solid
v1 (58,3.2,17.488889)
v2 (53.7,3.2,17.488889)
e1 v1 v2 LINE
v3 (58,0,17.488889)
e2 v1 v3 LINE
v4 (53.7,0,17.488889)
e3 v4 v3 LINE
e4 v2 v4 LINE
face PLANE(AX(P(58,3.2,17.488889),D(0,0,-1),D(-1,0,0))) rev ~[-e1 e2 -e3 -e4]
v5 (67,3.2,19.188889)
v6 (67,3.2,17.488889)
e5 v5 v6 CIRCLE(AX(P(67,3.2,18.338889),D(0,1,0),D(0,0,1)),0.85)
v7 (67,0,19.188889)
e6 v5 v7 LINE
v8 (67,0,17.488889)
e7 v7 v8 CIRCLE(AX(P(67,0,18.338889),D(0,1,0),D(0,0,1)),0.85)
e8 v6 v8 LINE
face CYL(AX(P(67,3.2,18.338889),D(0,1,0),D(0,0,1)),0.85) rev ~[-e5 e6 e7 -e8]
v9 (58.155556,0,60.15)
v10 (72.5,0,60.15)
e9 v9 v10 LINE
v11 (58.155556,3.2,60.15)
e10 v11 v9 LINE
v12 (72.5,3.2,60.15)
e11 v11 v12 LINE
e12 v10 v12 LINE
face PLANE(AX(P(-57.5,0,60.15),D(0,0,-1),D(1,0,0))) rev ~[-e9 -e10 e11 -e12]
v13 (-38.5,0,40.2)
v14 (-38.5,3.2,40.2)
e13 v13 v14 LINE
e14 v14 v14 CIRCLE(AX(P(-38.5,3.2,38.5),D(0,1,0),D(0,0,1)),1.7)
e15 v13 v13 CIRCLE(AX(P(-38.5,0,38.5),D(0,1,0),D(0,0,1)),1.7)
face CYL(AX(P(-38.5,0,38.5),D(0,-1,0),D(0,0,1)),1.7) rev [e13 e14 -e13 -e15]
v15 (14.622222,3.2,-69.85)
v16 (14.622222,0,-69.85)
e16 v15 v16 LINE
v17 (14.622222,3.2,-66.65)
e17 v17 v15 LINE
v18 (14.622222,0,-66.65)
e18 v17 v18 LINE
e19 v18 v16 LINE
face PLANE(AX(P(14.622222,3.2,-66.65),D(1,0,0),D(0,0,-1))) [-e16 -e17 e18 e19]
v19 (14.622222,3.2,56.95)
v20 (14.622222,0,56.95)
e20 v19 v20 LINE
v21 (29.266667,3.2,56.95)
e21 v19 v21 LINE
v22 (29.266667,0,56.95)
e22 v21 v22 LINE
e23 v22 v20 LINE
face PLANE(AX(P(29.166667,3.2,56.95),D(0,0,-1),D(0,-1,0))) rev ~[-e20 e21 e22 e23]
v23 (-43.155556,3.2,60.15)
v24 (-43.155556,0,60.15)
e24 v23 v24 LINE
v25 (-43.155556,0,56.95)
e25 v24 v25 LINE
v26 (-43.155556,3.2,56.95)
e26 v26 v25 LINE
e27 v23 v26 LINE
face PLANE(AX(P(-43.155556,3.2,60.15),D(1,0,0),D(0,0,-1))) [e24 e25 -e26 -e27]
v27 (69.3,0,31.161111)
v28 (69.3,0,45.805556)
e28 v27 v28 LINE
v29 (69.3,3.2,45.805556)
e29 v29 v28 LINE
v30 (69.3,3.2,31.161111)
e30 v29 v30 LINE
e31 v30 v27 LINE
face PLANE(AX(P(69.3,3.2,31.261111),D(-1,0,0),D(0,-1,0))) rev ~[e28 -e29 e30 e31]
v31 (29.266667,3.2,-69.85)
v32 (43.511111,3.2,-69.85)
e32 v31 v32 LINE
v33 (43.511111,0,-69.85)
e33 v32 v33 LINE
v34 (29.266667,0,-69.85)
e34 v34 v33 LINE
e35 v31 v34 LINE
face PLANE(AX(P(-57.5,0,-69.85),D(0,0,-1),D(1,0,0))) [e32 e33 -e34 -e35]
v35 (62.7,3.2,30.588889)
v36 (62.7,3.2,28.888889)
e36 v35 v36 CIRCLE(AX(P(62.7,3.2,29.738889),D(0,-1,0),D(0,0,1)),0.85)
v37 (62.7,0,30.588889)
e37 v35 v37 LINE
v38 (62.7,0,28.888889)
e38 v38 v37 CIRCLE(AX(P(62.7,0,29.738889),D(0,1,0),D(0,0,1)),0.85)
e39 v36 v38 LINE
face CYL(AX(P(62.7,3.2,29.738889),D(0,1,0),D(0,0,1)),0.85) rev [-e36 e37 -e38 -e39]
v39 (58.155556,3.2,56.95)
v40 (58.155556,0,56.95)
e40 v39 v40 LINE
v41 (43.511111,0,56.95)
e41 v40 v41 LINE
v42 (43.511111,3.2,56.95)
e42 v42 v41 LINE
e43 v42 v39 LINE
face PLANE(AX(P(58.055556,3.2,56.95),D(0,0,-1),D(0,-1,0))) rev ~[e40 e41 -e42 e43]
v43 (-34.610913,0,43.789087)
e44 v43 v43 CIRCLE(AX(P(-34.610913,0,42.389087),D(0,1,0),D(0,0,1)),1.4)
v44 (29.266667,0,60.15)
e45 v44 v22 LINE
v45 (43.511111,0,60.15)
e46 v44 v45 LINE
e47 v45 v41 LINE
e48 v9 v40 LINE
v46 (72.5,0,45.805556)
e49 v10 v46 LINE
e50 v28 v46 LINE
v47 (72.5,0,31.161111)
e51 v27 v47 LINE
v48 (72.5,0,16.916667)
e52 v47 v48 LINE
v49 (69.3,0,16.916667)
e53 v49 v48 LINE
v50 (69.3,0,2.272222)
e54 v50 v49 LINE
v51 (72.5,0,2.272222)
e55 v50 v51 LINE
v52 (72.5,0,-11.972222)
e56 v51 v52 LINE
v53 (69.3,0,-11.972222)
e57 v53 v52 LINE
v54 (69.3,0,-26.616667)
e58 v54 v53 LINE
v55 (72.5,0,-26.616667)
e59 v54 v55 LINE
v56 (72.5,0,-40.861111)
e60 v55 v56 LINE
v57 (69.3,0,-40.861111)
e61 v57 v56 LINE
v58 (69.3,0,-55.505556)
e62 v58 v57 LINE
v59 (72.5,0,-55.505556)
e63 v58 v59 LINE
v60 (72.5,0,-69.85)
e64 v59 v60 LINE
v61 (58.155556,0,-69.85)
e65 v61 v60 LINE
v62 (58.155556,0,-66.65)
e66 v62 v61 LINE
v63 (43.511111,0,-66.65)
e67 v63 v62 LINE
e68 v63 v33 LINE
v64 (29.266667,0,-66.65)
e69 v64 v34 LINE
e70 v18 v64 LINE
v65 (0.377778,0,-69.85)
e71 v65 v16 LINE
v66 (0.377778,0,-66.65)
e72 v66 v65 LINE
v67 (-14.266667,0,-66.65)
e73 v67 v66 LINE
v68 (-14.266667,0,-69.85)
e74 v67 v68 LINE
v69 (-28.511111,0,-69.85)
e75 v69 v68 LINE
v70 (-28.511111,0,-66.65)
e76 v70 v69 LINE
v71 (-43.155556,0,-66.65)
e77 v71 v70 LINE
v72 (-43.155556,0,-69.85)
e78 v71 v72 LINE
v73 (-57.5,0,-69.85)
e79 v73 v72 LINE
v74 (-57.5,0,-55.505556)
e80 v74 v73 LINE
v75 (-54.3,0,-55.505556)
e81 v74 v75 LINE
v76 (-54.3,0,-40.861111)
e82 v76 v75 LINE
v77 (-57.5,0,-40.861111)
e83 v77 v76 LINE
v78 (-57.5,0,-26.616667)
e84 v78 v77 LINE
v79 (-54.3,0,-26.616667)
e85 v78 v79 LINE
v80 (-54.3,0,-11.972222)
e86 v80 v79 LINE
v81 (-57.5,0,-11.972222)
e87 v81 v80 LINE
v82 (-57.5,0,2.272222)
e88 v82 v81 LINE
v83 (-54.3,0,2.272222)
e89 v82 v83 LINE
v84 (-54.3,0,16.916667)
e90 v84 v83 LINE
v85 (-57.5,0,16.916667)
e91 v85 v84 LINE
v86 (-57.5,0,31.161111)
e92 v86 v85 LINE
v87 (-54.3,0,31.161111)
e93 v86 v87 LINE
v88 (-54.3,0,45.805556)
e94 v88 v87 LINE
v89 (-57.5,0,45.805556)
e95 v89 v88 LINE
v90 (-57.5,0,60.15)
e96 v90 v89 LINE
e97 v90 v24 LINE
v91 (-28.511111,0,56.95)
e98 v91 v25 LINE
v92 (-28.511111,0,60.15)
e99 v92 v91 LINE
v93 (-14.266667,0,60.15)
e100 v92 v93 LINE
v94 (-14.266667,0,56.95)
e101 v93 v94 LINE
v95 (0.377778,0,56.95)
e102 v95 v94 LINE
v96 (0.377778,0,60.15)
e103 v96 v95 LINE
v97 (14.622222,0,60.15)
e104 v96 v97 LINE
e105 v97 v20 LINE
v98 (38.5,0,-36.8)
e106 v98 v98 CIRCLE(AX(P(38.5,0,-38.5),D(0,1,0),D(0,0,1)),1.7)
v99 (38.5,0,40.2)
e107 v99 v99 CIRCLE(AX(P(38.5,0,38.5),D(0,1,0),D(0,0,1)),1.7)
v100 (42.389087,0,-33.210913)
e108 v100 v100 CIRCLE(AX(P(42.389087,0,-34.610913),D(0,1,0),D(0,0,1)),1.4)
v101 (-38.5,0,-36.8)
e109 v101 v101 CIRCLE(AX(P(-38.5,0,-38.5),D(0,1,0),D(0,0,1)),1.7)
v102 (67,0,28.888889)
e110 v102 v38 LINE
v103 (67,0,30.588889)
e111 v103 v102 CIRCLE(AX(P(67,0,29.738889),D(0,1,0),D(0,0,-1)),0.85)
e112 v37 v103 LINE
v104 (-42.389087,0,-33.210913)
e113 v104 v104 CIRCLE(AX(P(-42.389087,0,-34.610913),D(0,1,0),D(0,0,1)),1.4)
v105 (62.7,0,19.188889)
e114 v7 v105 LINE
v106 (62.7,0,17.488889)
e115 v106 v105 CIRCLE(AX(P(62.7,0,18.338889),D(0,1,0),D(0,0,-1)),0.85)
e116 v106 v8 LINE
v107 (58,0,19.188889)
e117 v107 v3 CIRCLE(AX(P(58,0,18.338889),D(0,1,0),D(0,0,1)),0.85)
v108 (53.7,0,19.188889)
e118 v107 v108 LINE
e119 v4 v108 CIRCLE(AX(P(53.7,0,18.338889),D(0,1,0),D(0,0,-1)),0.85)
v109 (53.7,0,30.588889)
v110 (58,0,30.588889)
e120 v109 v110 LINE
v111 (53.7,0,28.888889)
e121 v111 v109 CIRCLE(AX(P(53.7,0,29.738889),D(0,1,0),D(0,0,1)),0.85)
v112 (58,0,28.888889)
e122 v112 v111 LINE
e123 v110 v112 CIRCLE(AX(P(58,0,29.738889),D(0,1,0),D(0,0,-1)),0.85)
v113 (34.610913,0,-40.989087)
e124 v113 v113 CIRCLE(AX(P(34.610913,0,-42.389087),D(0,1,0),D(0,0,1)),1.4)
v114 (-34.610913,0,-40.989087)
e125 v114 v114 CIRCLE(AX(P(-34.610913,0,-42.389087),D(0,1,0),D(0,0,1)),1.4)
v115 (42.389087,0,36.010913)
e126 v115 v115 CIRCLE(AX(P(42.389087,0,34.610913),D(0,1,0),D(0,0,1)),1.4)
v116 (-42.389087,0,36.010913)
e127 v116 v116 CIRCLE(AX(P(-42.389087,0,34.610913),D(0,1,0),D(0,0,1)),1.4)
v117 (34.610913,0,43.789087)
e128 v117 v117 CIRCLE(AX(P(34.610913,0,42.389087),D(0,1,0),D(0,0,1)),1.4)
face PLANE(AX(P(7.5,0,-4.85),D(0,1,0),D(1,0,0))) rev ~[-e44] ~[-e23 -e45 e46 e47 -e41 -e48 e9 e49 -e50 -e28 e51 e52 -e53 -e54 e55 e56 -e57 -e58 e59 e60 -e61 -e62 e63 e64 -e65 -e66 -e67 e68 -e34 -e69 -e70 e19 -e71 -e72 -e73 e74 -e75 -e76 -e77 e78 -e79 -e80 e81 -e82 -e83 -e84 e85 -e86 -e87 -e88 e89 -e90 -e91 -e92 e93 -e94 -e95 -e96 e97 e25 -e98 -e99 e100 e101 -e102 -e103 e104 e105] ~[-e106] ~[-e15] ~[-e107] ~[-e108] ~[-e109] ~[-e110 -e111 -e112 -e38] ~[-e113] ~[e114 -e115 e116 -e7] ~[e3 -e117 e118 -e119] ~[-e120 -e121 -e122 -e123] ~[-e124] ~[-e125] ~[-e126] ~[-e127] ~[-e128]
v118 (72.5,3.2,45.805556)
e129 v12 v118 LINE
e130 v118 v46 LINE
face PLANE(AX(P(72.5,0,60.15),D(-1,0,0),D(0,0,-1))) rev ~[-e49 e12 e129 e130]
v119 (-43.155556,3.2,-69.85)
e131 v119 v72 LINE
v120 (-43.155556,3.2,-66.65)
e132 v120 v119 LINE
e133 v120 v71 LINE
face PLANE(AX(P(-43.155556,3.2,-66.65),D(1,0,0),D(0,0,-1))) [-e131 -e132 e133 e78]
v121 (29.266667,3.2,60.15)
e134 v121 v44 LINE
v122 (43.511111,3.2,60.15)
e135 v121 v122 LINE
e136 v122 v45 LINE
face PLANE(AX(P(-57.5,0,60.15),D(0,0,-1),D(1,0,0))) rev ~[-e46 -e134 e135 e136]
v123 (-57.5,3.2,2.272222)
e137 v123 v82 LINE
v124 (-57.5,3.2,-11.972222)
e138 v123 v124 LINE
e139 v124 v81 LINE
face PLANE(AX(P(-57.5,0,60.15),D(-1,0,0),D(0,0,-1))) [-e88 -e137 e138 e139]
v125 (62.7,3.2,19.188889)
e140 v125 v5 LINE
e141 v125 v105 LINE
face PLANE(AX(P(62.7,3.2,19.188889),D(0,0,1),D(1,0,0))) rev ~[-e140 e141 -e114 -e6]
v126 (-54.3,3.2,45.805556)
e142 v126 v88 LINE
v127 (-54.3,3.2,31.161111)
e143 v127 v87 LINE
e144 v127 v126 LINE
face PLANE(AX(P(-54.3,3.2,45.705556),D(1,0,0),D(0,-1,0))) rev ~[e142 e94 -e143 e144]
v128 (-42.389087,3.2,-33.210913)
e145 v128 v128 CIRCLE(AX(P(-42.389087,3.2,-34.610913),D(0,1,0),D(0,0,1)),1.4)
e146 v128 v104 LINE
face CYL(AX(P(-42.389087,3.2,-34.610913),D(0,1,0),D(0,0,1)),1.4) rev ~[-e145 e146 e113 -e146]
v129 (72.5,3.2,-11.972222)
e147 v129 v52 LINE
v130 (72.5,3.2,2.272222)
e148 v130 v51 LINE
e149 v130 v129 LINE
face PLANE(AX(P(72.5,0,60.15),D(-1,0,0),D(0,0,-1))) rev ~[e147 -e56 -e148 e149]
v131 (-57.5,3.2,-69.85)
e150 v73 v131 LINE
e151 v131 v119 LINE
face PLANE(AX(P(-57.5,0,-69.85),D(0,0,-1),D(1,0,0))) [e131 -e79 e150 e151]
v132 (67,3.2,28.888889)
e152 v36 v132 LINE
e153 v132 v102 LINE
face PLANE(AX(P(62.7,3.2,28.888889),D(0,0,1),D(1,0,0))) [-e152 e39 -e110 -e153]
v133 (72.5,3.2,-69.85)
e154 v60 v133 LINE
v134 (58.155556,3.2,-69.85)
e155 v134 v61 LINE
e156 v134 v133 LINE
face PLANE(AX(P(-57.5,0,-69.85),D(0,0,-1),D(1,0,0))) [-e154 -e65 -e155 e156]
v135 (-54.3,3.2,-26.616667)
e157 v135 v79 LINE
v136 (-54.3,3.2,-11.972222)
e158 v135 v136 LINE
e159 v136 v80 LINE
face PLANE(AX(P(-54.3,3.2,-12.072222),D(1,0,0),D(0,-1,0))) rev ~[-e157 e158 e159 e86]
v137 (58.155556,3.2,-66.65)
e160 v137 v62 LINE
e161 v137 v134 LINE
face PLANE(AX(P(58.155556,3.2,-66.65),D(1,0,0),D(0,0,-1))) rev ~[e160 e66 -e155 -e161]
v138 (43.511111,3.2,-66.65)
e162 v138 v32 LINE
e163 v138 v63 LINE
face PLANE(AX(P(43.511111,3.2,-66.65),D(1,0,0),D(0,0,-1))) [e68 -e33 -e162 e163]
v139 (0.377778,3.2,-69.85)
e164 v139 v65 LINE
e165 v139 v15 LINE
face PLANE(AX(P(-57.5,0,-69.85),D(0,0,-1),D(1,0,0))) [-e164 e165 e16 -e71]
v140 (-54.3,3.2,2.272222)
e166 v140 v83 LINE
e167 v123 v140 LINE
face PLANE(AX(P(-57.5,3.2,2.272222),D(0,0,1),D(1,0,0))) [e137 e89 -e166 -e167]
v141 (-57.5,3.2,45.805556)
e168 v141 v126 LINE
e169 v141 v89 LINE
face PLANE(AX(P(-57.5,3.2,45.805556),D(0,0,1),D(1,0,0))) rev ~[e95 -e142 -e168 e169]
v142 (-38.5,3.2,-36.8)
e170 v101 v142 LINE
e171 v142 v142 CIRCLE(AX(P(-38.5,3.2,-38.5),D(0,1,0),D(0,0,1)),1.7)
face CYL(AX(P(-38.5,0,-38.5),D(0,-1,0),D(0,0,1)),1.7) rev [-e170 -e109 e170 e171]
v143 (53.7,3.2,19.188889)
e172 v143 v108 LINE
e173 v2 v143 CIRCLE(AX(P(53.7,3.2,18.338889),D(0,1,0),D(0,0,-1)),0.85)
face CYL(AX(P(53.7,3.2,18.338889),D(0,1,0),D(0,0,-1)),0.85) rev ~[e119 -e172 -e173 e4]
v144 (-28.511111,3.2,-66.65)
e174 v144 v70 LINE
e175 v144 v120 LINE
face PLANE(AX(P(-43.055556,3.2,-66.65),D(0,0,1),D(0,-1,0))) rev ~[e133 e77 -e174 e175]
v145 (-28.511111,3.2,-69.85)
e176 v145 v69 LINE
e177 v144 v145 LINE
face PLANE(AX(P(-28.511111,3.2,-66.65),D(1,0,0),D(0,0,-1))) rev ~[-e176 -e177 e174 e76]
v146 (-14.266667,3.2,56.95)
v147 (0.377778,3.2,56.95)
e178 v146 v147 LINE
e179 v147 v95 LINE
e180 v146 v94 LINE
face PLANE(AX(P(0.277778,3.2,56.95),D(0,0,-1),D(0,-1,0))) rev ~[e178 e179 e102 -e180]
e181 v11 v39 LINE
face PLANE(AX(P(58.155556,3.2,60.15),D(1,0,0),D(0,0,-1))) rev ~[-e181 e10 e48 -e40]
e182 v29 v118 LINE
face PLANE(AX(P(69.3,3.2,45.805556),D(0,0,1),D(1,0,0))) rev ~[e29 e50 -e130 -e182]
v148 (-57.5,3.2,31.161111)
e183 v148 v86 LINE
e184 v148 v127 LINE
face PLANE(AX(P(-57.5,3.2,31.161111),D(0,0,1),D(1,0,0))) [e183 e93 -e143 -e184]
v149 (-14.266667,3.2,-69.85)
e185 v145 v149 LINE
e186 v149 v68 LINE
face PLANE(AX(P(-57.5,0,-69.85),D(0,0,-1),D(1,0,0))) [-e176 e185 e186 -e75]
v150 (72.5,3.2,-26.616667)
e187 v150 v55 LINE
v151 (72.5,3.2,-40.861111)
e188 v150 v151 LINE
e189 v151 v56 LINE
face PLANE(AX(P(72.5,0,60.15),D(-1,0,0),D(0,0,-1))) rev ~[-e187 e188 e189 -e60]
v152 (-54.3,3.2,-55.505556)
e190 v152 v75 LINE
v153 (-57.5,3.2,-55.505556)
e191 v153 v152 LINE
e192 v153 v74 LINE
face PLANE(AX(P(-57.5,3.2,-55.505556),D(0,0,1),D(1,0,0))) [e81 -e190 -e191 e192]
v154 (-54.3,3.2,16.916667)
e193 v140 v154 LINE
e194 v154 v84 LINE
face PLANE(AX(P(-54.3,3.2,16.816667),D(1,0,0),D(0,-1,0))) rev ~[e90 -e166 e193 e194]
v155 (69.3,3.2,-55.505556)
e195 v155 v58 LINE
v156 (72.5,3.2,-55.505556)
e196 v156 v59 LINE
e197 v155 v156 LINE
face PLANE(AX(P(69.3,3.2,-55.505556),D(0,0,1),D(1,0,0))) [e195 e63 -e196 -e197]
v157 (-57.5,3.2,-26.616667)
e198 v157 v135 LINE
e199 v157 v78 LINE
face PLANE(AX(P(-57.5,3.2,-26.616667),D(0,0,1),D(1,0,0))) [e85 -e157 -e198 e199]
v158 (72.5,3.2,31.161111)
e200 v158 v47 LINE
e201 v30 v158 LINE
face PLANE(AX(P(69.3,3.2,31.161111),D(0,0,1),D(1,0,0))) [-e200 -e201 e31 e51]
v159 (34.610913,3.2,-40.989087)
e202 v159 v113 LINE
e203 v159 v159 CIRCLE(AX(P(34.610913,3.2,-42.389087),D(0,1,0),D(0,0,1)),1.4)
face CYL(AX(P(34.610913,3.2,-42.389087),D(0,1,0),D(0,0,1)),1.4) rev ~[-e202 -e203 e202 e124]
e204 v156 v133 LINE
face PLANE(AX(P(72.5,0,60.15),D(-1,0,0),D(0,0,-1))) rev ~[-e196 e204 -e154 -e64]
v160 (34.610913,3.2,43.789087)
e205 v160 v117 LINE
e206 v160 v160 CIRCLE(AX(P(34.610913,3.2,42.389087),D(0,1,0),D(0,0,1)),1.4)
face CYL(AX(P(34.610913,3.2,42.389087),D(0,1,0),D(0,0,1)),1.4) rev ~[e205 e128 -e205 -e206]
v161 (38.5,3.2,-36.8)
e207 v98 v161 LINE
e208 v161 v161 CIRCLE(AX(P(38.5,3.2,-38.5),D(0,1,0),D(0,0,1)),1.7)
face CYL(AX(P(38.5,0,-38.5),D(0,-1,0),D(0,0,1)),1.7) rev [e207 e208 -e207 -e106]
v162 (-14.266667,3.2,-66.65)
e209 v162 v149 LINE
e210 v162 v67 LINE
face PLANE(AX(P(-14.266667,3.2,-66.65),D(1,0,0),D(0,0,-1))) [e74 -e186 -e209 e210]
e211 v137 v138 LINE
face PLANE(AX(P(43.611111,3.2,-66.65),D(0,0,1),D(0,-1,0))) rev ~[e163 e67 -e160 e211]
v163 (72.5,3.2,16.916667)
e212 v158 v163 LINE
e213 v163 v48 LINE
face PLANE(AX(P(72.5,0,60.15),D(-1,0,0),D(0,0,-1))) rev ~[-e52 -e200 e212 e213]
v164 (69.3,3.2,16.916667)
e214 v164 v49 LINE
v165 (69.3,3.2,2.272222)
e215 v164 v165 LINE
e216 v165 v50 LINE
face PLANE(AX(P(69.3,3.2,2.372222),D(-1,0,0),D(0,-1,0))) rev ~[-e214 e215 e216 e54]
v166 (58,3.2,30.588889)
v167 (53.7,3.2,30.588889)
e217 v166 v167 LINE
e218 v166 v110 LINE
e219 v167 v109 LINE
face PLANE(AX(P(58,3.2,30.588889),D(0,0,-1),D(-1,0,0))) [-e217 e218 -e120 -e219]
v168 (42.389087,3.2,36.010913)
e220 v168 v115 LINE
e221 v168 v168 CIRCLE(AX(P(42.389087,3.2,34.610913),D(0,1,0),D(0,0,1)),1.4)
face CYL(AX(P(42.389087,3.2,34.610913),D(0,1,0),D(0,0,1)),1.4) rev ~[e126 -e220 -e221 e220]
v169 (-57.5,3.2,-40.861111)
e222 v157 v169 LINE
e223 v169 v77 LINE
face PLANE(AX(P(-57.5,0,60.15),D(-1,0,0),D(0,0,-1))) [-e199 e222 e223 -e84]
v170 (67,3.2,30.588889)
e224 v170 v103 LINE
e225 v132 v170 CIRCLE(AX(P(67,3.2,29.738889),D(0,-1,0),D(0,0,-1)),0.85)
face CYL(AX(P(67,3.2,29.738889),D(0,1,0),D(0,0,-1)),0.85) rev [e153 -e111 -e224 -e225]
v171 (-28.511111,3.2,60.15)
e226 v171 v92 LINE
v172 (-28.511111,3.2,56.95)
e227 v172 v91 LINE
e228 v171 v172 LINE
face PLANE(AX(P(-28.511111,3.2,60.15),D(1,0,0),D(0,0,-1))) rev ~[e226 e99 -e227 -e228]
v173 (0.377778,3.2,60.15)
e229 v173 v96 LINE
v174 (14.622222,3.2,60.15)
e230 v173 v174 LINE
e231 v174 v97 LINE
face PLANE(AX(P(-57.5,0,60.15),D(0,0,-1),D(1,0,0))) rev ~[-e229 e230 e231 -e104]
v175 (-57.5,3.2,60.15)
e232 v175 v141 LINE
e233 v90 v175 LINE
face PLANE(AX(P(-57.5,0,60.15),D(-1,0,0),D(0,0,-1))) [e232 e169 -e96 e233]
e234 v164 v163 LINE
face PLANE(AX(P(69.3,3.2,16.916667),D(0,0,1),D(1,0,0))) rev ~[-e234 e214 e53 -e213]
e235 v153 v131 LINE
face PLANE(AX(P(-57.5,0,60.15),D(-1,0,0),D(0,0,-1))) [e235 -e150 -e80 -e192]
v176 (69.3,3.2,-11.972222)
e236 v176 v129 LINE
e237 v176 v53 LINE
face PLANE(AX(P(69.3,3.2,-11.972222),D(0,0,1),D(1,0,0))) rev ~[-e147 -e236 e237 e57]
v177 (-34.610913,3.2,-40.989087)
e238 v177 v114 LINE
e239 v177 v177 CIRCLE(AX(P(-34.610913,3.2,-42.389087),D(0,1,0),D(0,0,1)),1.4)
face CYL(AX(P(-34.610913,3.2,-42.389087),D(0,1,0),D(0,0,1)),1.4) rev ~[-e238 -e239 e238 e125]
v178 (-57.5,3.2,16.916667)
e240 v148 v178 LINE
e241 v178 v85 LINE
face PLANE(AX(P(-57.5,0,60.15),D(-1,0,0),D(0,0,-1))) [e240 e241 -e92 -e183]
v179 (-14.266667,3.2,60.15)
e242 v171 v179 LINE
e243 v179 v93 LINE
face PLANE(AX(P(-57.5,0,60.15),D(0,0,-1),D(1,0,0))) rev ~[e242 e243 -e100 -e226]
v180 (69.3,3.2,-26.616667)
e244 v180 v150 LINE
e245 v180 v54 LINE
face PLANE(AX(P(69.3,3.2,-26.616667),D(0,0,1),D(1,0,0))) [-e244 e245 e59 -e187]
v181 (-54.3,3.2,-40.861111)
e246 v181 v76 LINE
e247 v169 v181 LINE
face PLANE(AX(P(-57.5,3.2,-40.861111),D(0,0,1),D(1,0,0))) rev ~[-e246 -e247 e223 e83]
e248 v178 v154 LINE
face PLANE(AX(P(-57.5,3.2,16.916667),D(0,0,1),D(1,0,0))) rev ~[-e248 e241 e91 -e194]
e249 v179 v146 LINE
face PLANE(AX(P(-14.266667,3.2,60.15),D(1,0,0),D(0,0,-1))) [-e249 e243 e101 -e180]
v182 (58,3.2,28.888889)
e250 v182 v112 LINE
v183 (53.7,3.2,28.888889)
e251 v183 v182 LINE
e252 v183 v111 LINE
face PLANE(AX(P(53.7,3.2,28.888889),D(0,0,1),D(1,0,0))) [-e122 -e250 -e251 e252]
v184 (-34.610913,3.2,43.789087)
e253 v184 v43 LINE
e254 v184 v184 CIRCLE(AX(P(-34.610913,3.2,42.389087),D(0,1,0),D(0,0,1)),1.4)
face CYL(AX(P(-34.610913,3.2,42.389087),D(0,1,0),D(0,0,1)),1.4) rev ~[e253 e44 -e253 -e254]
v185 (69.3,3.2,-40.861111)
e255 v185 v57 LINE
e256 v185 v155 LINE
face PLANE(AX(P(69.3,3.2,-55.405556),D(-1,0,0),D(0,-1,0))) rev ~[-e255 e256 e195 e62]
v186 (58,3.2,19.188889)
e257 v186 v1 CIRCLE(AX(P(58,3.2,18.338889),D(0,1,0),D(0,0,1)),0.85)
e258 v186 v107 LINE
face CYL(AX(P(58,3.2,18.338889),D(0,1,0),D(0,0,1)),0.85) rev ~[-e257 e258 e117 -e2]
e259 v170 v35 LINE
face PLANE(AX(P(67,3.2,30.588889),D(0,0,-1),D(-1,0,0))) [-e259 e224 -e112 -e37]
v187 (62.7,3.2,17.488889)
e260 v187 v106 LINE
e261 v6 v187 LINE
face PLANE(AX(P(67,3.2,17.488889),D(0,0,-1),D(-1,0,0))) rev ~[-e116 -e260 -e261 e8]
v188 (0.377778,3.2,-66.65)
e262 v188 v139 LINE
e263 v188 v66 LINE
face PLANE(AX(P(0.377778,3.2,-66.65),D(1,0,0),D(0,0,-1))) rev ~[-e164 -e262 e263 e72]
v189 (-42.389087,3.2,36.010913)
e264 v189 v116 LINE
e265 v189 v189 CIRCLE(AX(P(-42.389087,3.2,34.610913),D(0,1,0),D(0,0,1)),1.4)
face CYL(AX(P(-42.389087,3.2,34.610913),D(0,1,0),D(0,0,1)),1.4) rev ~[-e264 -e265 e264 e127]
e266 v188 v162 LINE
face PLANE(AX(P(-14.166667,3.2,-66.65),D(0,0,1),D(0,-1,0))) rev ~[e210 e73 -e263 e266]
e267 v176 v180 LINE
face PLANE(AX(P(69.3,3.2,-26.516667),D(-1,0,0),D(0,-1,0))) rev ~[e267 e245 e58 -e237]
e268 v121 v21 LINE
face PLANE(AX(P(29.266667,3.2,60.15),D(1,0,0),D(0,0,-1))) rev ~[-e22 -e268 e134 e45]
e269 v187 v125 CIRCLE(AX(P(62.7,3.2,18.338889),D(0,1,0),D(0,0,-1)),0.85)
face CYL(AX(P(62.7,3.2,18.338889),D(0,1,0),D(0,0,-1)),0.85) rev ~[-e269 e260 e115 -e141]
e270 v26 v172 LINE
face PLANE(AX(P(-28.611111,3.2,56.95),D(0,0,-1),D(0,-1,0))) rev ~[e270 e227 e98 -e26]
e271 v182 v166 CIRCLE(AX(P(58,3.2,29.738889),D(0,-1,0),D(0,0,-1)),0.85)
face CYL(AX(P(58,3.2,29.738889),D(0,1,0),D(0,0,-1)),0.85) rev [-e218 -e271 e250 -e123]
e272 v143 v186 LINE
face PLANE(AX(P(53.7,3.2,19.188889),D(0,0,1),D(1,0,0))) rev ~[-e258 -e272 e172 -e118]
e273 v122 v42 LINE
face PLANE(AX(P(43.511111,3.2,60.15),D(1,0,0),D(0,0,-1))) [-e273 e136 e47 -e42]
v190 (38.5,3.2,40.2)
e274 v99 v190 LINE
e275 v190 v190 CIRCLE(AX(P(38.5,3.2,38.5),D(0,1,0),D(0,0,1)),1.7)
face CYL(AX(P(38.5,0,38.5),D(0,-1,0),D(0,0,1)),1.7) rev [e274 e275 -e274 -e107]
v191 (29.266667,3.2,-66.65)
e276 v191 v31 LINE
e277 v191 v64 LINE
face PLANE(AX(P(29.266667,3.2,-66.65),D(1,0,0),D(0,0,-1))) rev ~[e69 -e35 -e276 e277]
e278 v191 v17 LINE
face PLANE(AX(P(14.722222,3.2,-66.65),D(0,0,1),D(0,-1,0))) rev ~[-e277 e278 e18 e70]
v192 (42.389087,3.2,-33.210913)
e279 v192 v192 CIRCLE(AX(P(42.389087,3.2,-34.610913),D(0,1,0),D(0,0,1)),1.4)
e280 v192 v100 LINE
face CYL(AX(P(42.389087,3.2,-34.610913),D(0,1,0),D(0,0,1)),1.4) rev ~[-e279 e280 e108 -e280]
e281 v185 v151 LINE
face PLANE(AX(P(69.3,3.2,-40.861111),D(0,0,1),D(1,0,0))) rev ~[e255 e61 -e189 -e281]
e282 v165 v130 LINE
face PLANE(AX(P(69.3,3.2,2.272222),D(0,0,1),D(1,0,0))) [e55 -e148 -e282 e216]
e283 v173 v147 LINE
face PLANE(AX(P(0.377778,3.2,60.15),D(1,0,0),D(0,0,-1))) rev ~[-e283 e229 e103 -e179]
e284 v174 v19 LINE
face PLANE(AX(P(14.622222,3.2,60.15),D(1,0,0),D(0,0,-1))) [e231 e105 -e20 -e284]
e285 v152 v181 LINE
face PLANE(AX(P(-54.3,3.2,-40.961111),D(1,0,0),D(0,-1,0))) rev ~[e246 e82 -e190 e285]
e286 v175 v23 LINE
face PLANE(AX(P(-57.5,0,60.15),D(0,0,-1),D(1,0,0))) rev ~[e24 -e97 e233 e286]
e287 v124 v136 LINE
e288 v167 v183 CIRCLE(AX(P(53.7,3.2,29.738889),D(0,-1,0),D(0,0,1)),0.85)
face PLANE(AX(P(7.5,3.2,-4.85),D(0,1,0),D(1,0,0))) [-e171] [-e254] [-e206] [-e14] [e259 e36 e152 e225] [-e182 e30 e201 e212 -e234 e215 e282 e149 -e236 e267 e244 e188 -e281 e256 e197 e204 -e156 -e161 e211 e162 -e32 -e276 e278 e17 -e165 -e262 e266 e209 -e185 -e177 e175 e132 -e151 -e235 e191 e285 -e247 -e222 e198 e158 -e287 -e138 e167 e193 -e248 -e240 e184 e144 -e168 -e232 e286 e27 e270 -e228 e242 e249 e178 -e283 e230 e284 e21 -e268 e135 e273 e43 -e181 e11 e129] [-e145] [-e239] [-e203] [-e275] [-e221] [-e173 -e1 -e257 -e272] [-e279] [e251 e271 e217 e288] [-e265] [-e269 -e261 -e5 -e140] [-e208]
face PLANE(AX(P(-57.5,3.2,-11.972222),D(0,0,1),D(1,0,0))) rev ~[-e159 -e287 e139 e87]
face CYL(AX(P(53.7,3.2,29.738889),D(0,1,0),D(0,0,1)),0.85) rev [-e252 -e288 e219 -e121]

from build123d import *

# Parameters (mm, degrees)
SKETCH2_W           = 130
SKETCH2_H           = 130
SKETCH2_R           = 1.7
BOSS_EXTRUDE1_DEPTH = 3.2
CUT_EXTRUDE2_REACH  = 102.725
SKETCH5_R           = 1.4
SKETCH4_W           = 3.2
SKETCH4_H           = 14.444444445
SKETCH4_W_2         = 14.444444445
SKETCH4_H_2         = 3.2
CUT_EXTRUDE1_DEPTH  = 101.724934847
CUT_EXTRUDE3_REACH  = 102.725
TOLERANCE_BY        = 0.1
TOLERANCE_2_BY      = 0.1
TOLERANCE_3_BY      = 0.1
TOLERANCE_4_BY      = 0.1
TOLERANCE_5_BY      = 0.1
TOLERANCE_6_BY      = 0.1
TOLERANCE_7_BY      = 0.1
TOLERANCE_8_BY      = 0.1
TOLERANCE_9_BY      = 0.1
TOLERANCE_10_BY     = 0.1
TOLERANCE_11_BY     = 0.1
TOLERANCE_12_BY     = 0.1
TOLERANCE_13_BY     = 0.1
TOLERANCE_14_BY     = 0.1
TOLERANCE_15_BY     = 0.1
TOLERANCE_16_BY     = 0.1
TOLERANCE_17_BY     = 0.1
TOLERANCE_18_BY     = 0.1
TOLERANCE_19_BY     = 0.1
TOLERANCE_20_BY     = 0.1
TOLERANCE_21_BY     = 0.1
TOLERANCE_22_BY     = 0.1
TOLERANCE_23_BY     = 0.1
TOLERANCE_24_BY     = 0.1
TOLERANCE_25_BY     = 0.1
TOLERANCE_26_BY     = 0.1
TOLERANCE_27_BY     = 0.1
TOLERANCE_28_BY     = 0.1
TOLERANCE_29_BY     = 0.1
TOLERANCE_30_BY     = 0.1
TOLERANCE_31_BY     = 0.1
TOLERANCE_32_BY     = 0.1


with BuildPart() as part:
    # Sketch2 → Boss-Extrude1 (new body)
    with BuildSketch(Plane(origin=(0, 0, 0), x_dir=(1, 0, 0), z_dir=(0, 1, 0))):
        with Locations((7.5, 4.85)):
            Rectangle(SKETCH2_W, SKETCH2_H)
        with Locations(Location((-38.5, 38.5, 0), (0, 0, 270))):
            Circle(SKETCH2_R, mode=Mode.SUBTRACT)
        with Locations(Location((-38.5, -38.5, 0), (0, 0, 270))):
            Circle(SKETCH2_R, mode=Mode.SUBTRACT)
        with Locations(Location((38.5, -38.5, 0), (0, 0, 270))):
            Circle(SKETCH2_R, mode=Mode.SUBTRACT)
        with Locations(Location((38.5, 38.5, 0), (0, 0, 270))):
            Circle(SKETCH2_R, mode=Mode.SUBTRACT)
    extrude(amount=BOSS_EXTRUDE1_DEPTH)

    # Sketch5 → Cut-Extrude2 (cut, up to next)
    with BuildSketch(Plane(origin=(0, 3.2, 0), x_dir=(1, 0, 0), z_dir=(0, 1, 0)), mode=Mode.PRIVATE) as cut_extrude2_sk1:
        with Locations(Location((42.389087297, 34.610912703, 0), (0, 0, 270))):
            Circle(SKETCH5_R)
    cut_extrude2_tool1 = extrude(cut_extrude2_sk1.sketch, amount=-CUT_EXTRUDE2_REACH, mode=Mode.PRIVATE) & part.part
    # Sketch5 → Cut-Extrude2 (cut, up to next)
    with BuildSketch(Plane(origin=(0, 3.2, 0), x_dir=(1, 0, 0), z_dir=(0, 1, 0)), mode=Mode.PRIVATE) as cut_extrude2_sk2:
        with Locations(Location((34.610912703, 42.389087297, 0), (0, 0, 270))):
            Circle(SKETCH5_R)
    cut_extrude2_tool2 = extrude(cut_extrude2_sk2.sketch, amount=-CUT_EXTRUDE2_REACH, mode=Mode.PRIVATE) & part.part
    # Sketch5 → Cut-Extrude2 (cut, up to next)
    with BuildSketch(Plane(origin=(0, 3.2, 0), x_dir=(1, 0, 0), z_dir=(0, 1, 0)), mode=Mode.PRIVATE) as cut_extrude2_sk3:
        with Locations(Location((34.610912703, -42.389087297, 0), (0, 0, 270))):
            Circle(SKETCH5_R)
    cut_extrude2_tool3 = extrude(cut_extrude2_sk3.sketch, amount=-CUT_EXTRUDE2_REACH, mode=Mode.PRIVATE) & part.part
    # Sketch5 → Cut-Extrude2 (cut, up to next)
    with BuildSketch(Plane(origin=(0, 3.2, 0), x_dir=(1, 0, 0), z_dir=(0, 1, 0)), mode=Mode.PRIVATE) as cut_extrude2_sk4:
        with Locations(Location((42.389087297, -34.610912703, 0), (0, 0, 270))):
            Circle(SKETCH5_R)
    cut_extrude2_tool4 = extrude(cut_extrude2_sk4.sketch, amount=-CUT_EXTRUDE2_REACH, mode=Mode.PRIVATE) & part.part
    # Sketch5 → Cut-Extrude2 (cut, up to next)
    with BuildSketch(Plane(origin=(0, 3.2, 0), x_dir=(1, 0, 0), z_dir=(0, 1, 0)), mode=Mode.PRIVATE) as cut_extrude2_sk5:
        with Locations(Location((-42.389087297, -34.610912703, 0), (0, 0, 270))):
            Circle(SKETCH5_R)
    cut_extrude2_tool5 = extrude(cut_extrude2_sk5.sketch, amount=-CUT_EXTRUDE2_REACH, mode=Mode.PRIVATE) & part.part
    # Sketch5 → Cut-Extrude2 (cut, up to next)
    with BuildSketch(Plane(origin=(0, 3.2, 0), x_dir=(1, 0, 0), z_dir=(0, 1, 0)), mode=Mode.PRIVATE) as cut_extrude2_sk6:
        with Locations(Location((-34.610912703, -42.389087297, 0), (0, 0, 270))):
            Circle(SKETCH5_R)
    cut_extrude2_tool6 = extrude(cut_extrude2_sk6.sketch, amount=-CUT_EXTRUDE2_REACH, mode=Mode.PRIVATE) & part.part
    # Sketch5 → Cut-Extrude2 (cut, up to next)
    with BuildSketch(Plane(origin=(0, 3.2, 0), x_dir=(1, 0, 0), z_dir=(0, 1, 0)), mode=Mode.PRIVATE) as cut_extrude2_sk7:
        with Locations(Location((-34.610912703, 42.389087297, 0), (0, 0, 270))):
            Circle(SKETCH5_R)
    cut_extrude2_tool7 = extrude(cut_extrude2_sk7.sketch, amount=-CUT_EXTRUDE2_REACH, mode=Mode.PRIVATE) & part.part
    # Sketch5 → Cut-Extrude2 (cut, up to next)
    with BuildSketch(Plane(origin=(0, 3.2, 0), x_dir=(1, 0, 0), z_dir=(0, 1, 0)), mode=Mode.PRIVATE) as cut_extrude2_sk8:
        with Locations(Location((-42.389087297, 34.610912703, 0), (0, 0, 270))):
            Circle(SKETCH5_R)
    cut_extrude2_tool8 = extrude(cut_extrude2_sk8.sketch, amount=-CUT_EXTRUDE2_REACH, mode=Mode.PRIVATE) & part.part
    add(cut_extrude2_tool1.solids().sort_by_distance((42.389087, 3.2, -34.610913))[0], mode=Mode.SUBTRACT)
    add(cut_extrude2_tool2.solids().sort_by_distance((34.610913, 3.2, -42.389087))[0], mode=Mode.SUBTRACT)
    add(cut_extrude2_tool3.solids().sort_by_distance((34.610913, 3.2, 42.389087))[0], mode=Mode.SUBTRACT)
    add(cut_extrude2_tool4.solids().sort_by_distance((42.389087, 3.2, 34.610913))[0], mode=Mode.SUBTRACT)
    add(cut_extrude2_tool5.solids().sort_by_distance((-42.389087, 3.2, 34.610913))[0], mode=Mode.SUBTRACT)
    add(cut_extrude2_tool6.solids().sort_by_distance((-34.610913, 3.2, 42.389087))[0], mode=Mode.SUBTRACT)
    add(cut_extrude2_tool7.solids().sort_by_distance((-34.610913, 3.2, -42.389087))[0], mode=Mode.SUBTRACT)
    add(cut_extrude2_tool8.solids().sort_by_distance((-42.389087, 3.2, -34.610913))[0], mode=Mode.SUBTRACT)

    # Sketch4 → Cut-Extrude1 (cut, through all)
    with BuildSketch(Plane(origin=(0, 3.2, 0), x_dir=(1, 0, 0), z_dir=(0, 1, 0))):
        with Locations((70.9, 48.183333334)):
            Rectangle(SKETCH4_W, SKETCH4_H)
        with Locations((70.9, 19.294444445)):
            Rectangle(SKETCH4_W, SKETCH4_H)
        with Locations((70.9, -9.594444445)):
            Rectangle(SKETCH4_W, SKETCH4_H)
        with Locations((70.9, -38.483333333)):
            Rectangle(SKETCH4_W, SKETCH4_H)
        with Locations((-35.833333334, -58.55)):
            Rectangle(SKETCH4_W_2, SKETCH4_H_2)
        with Locations((-6.944444445, -58.55)):
            Rectangle(SKETCH4_W_2, SKETCH4_H_2)
        with Locations((21.944444445, -58.55)):
            Rectangle(SKETCH4_W_2, SKETCH4_H_2)
        with Locations((50.833333334, -58.55)):
            Rectangle(SKETCH4_W_2, SKETCH4_H_2)
        with Locations((-55.9, 48.183333334)):
            Rectangle(SKETCH4_W, SKETCH4_H)
        with Locations((-55.9, 19.294444445)):
            Rectangle(SKETCH4_W, SKETCH4_H)
        with Locations((-55.9, -9.594444445)):
            Rectangle(SKETCH4_W, SKETCH4_H)
        with Locations((-55.9, -38.483333333)):
            Rectangle(SKETCH4_W, SKETCH4_H)
        with Locations((50.833333334, 68.25)):
            Rectangle(SKETCH4_W_2, SKETCH4_H_2)
        with Locations((21.944444445, 68.25)):
            Rectangle(SKETCH4_W_2, SKETCH4_H_2)
        with Locations((-6.944444445, 68.25)):
            Rectangle(SKETCH4_W_2, SKETCH4_H_2)
        with Locations((-35.833333334, 68.25)):
            Rectangle(SKETCH4_W_2, SKETCH4_H_2)
    extrude(amount=-CUT_EXTRUDE1_DEPTH, mode=Mode.SUBTRACT)

    # Sketch6 → Cut-Extrude3 (cut, up to next)
    with BuildSketch(Plane(origin=(0, 3.2, 0), x_dir=(1, 0, 0), z_dir=(0, 1, 0)), mode=Mode.PRIVATE) as cut_extrude3_sk1:
        with BuildLine():
            Line((67, -30.588888889), (62.7, -30.588888889))
            ThreePointArc((62.7, -30.588888889), (61.85, -29.738888889), (62.7, -28.888888889))
            Line((62.7, -28.888888889), (67, -28.888888889))
            ThreePointArc((67, -28.888888889), (67.85, -29.738888889), (67, -30.588888889))
        make_face()
    cut_extrude3_tool1 = extrude(cut_extrude3_sk1.sketch, amount=-CUT_EXTRUDE3_REACH, mode=Mode.PRIVATE) & part.part
    # Sketch6 → Cut-Extrude3 (cut, up to next)
    with BuildSketch(Plane(origin=(0, 3.2, 0), x_dir=(1, 0, 0), z_dir=(0, 1, 0)), mode=Mode.PRIVATE) as cut_extrude3_sk2:
        with BuildLine():
            Line((58, -30.588888889), (53.7, -30.588888889))
            ThreePointArc((53.7, -30.588888889), (52.85, -29.738888889), (53.7, -28.888888889))
            Line((53.7, -28.888888889), (58, -28.888888889))
            ThreePointArc((58, -28.888888889), (58.85, -29.738888889), (58, -30.588888889))
        make_face()
    cut_extrude3_tool2 = extrude(cut_extrude3_sk2.sketch, amount=-CUT_EXTRUDE3_REACH, mode=Mode.PRIVATE) & part.part
    # Sketch6 → Cut-Extrude3 (cut, up to next)
    with BuildSketch(Plane(origin=(0, 3.2, 0), x_dir=(1, 0, 0), z_dir=(0, 1, 0)), mode=Mode.PRIVATE) as cut_extrude3_sk3:
        with BuildLine():
            Line((58, -17.488888889), (53.7, -17.488888889))
            ThreePointArc((53.7, -17.488888889), (52.85, -18.338888889), (53.7, -19.188888889))
            Line((53.7, -19.188888889), (58, -19.188888889))
            ThreePointArc((58, -19.188888889), (58.85, -18.338888889), (58, -17.488888889))
        make_face()
    cut_extrude3_tool3 = extrude(cut_extrude3_sk3.sketch, amount=-CUT_EXTRUDE3_REACH, mode=Mode.PRIVATE) & part.part
    # Sketch6 → Cut-Extrude3 (cut, up to next)
    with BuildSketch(Plane(origin=(0, 3.2, 0), x_dir=(1, 0, 0), z_dir=(0, 1, 0)), mode=Mode.PRIVATE) as cut_extrude3_sk4:
        with BuildLine():
            Line((67, -17.488888889), (62.7, -17.488888889))
            ThreePointArc((62.7, -17.488888889), (61.85, -18.338888889), (62.7, -19.188888889))
            Line((62.7, -19.188888889), (67, -19.188888889))
            ThreePointArc((67, -19.188888889), (67.85, -18.338888889), (67, -17.488888889))
        make_face()
    cut_extrude3_tool4 = extrude(cut_extrude3_sk4.sketch, amount=-CUT_EXTRUDE3_REACH, mode=Mode.PRIVATE) & part.part
    add(cut_extrude3_tool1.solids().sort_by_distance((64.85, 3.2, 29.738889))[0], mode=Mode.SUBTRACT)
    add(cut_extrude3_tool2.solids().sort_by_distance((55.85, 3.2, 29.738889))[0], mode=Mode.SUBTRACT)
    add(cut_extrude3_tool3.solids().sort_by_distance((55.85, 3.2, 18.338889))[0], mode=Mode.SUBTRACT)
    add(cut_extrude3_tool4.solids().sort_by_distance((64.85, 3.2, 18.338889))[0], mode=Mode.SUBTRACT)

    # Tolerance: a face moved inward by 0.1
    extrude(part.faces().sort_by_distance((43.611111111, 1.6, -68.25))[0], amount=TOLERANCE_BY, dir=(-1, 0, 0), mode=Mode.SUBTRACT)

    # Tolerance 2: a face moved inward by 0.1
    extrude(part.faces().sort_by_distance((14.722222222, 1.6, -68.25))[0], amount=TOLERANCE_2_BY, dir=(-1, 0, 0), mode=Mode.SUBTRACT)

    # Tolerance 3: a face moved inward by 0.1
    extrude(part.faces().sort_by_distance((-14.166666667, 1.6, -68.25))[0], amount=TOLERANCE_3_BY, dir=(-1, 0, 0), mode=Mode.SUBTRACT)

    # Tolerance 4: a face moved inward by 0.1
    extrude(part.faces().sort_by_distance((-43.055555556, 1.6, -68.25))[0], amount=TOLERANCE_4_BY, dir=(-1, 0, 0), mode=Mode.SUBTRACT)

    # Tolerance 5: a face moved inward by 0.1
    extrude(part.faces().sort_by_distance((29.166666667, 1.6, -68.25))[0], amount=TOLERANCE_5_BY, dir=(1, 0, 0), mode=Mode.SUBTRACT)

    # Tolerance 6: a face moved inward by 0.1
    extrude(part.faces().sort_by_distance((58.055555556, 1.6, -68.25))[0], amount=TOLERANCE_6_BY, dir=(1, 0, 0), mode=Mode.SUBTRACT)

    # Tolerance 7: a face moved inward by 0.1
    extrude(part.faces().sort_by_distance((0.277777778, 1.6, -68.25))[0], amount=TOLERANCE_7_BY, dir=(1, 0, 0), mode=Mode.SUBTRACT)

    # Tolerance 8: a face moved inward by 0.1
    extrude(part.faces().sort_by_distance((-28.611111111, 1.6, -68.25))[0], amount=TOLERANCE_8_BY, dir=(1, 0, 0), mode=Mode.SUBTRACT)

    # Tolerance 9: a face moved inward by 0.1
    extrude(part.faces().sort_by_distance((-55.9, 1.6, -40.961111111))[0], amount=TOLERANCE_9_BY, dir=(0, 0, 1), mode=Mode.SUBTRACT)

    # Tolerance 10: a face moved inward by 0.1
    extrude(part.faces().sort_by_distance((-55.9, 1.6, -55.405555556))[0], amount=TOLERANCE_10_BY, dir=(0, 0, -1), mode=Mode.SUBTRACT)

    # Tolerance 11: a face moved inward by 0.1
    extrude(part.faces().sort_by_distance((-55.9, 1.6, -12.072222222))[0], amount=TOLERANCE_11_BY, dir=(0, 0, 1), mode=Mode.SUBTRACT)

    # Tolerance 12: a face moved inward by 0.1
    extrude(part.faces().sort_by_distance((-55.9, 1.6, -26.516666667))[0], amount=TOLERANCE_12_BY, dir=(0, 0, -1), mode=Mode.SUBTRACT)

    # Tolerance 13: a face moved inward by 0.1
    extrude(part.faces().sort_by_distance((-55.9, 1.6, 2.372222222))[0], amount=TOLERANCE_13_BY, dir=(0, 0, -1), mode=Mode.SUBTRACT)

    # Tolerance 14: a face moved inward by 0.1
    extrude(part.faces().sort_by_distance((-55.9, 1.6, 16.816666667))[0], amount=TOLERANCE_14_BY, dir=(0, 0, 1), mode=Mode.SUBTRACT)

    # Tolerance 15: a face moved inward by 0.1
    extrude(part.faces().sort_by_distance((-55.9, 1.6, 45.705555556))[0], amount=TOLERANCE_15_BY, dir=(0, 0, 1), mode=Mode.SUBTRACT)

    # Tolerance 16: a face moved inward by 0.1
    extrude(part.faces().sort_by_distance((-55.9, 1.6, 31.261111111))[0], amount=TOLERANCE_16_BY, dir=(0, 0, -1), mode=Mode.SUBTRACT)

    # Tolerance 17: a face moved inward by 0.1
    extrude(part.faces().sort_by_distance((-28.611111111, 1.6, 58.55))[0], amount=TOLERANCE_17_BY, dir=(1, 0, 0), mode=Mode.SUBTRACT)

    # Tolerance 18: a face moved inward by 0.1
    extrude(part.faces().sort_by_distance((-43.055555556, 1.6, 58.55))[0], amount=TOLERANCE_18_BY, dir=(-1, 0, 0), mode=Mode.SUBTRACT)

    # Tolerance 19: a face moved inward by 0.1
    extrude(part.faces().sort_by_distance((-14.166666667, 1.6, 58.55))[0], amount=TOLERANCE_19_BY, dir=(-1, 0, 0), mode=Mode.SUBTRACT)

    # Tolerance 20: a face moved inward by 0.1
    extrude(part.faces().sort_by_distance((0.277777778, 1.6, 58.55))[0], amount=TOLERANCE_20_BY, dir=(1, 0, 0), mode=Mode.SUBTRACT)

    # Tolerance 21: a face moved inward by 0.1
    extrude(part.faces().sort_by_distance((14.722222222, 1.6, 58.55))[0], amount=TOLERANCE_21_BY, dir=(-1, 0, 0), mode=Mode.SUBTRACT)

    # Tolerance 22: a face moved inward by 0.1
    extrude(part.faces().sort_by_distance((29.166666667, 1.6, 58.55))[0], amount=TOLERANCE_22_BY, dir=(1, 0, 0), mode=Mode.SUBTRACT)

    # Tolerance 23: a face moved inward by 0.1
    extrude(part.faces().sort_by_distance((58.055555556, 1.6, 58.55))[0], amount=TOLERANCE_23_BY, dir=(1, 0, 0), mode=Mode.SUBTRACT)

    # Tolerance 24: a face moved inward by 0.1
    extrude(part.faces().sort_by_distance((43.611111111, 1.6, 58.55))[0], amount=TOLERANCE_24_BY, dir=(-1, 0, 0), mode=Mode.SUBTRACT)

    # Tolerance 25: a face moved inward by 0.1
    extrude(part.faces().sort_by_distance((70.9, 1.6, 31.261111111))[0], amount=TOLERANCE_25_BY, dir=(0, 0, -1), mode=Mode.SUBTRACT)

    # Tolerance 26: a face moved inward by 0.1
    extrude(part.faces().sort_by_distance((70.9, 1.6, 45.705555556))[0], amount=TOLERANCE_26_BY, dir=(0, 0, 1), mode=Mode.SUBTRACT)

    # Tolerance 27: a face moved inward by 0.1
    extrude(part.faces().sort_by_distance((70.9, 1.6, 16.816666667))[0], amount=TOLERANCE_27_BY, dir=(0, 0, 1), mode=Mode.SUBTRACT)

    # Tolerance 28: a face moved inward by 0.1
    extrude(part.faces().sort_by_distance((70.9, 1.6, 2.372222222))[0], amount=TOLERANCE_28_BY, dir=(0, 0, -1), mode=Mode.SUBTRACT)

    # Tolerance 29: a face moved inward by 0.1
    extrude(part.faces().sort_by_distance((70.9, 1.6, -12.072222222))[0], amount=TOLERANCE_29_BY, dir=(0, 0, 1), mode=Mode.SUBTRACT)

    # Tolerance 30: a face moved inward by 0.1
    extrude(part.faces().sort_by_distance((70.9, 1.6, -26.516666667))[0], amount=TOLERANCE_30_BY, dir=(0, 0, -1), mode=Mode.SUBTRACT)

    # Tolerance 31: a face moved inward by 0.1
    extrude(part.faces().sort_by_distance((70.9, 1.6, -55.405555556))[0], amount=TOLERANCE_31_BY, dir=(0, 0, -1), mode=Mode.SUBTRACT)

    # Tolerance 32: a face moved inward by 0.1
    extrude(part.faces().sort_by_distance((70.9, 1.6, -40.961111111))[0], amount=TOLERANCE_32_BY, dir=(0, 0, 1), mode=Mode.SUBTRACT)


solid = part.part
